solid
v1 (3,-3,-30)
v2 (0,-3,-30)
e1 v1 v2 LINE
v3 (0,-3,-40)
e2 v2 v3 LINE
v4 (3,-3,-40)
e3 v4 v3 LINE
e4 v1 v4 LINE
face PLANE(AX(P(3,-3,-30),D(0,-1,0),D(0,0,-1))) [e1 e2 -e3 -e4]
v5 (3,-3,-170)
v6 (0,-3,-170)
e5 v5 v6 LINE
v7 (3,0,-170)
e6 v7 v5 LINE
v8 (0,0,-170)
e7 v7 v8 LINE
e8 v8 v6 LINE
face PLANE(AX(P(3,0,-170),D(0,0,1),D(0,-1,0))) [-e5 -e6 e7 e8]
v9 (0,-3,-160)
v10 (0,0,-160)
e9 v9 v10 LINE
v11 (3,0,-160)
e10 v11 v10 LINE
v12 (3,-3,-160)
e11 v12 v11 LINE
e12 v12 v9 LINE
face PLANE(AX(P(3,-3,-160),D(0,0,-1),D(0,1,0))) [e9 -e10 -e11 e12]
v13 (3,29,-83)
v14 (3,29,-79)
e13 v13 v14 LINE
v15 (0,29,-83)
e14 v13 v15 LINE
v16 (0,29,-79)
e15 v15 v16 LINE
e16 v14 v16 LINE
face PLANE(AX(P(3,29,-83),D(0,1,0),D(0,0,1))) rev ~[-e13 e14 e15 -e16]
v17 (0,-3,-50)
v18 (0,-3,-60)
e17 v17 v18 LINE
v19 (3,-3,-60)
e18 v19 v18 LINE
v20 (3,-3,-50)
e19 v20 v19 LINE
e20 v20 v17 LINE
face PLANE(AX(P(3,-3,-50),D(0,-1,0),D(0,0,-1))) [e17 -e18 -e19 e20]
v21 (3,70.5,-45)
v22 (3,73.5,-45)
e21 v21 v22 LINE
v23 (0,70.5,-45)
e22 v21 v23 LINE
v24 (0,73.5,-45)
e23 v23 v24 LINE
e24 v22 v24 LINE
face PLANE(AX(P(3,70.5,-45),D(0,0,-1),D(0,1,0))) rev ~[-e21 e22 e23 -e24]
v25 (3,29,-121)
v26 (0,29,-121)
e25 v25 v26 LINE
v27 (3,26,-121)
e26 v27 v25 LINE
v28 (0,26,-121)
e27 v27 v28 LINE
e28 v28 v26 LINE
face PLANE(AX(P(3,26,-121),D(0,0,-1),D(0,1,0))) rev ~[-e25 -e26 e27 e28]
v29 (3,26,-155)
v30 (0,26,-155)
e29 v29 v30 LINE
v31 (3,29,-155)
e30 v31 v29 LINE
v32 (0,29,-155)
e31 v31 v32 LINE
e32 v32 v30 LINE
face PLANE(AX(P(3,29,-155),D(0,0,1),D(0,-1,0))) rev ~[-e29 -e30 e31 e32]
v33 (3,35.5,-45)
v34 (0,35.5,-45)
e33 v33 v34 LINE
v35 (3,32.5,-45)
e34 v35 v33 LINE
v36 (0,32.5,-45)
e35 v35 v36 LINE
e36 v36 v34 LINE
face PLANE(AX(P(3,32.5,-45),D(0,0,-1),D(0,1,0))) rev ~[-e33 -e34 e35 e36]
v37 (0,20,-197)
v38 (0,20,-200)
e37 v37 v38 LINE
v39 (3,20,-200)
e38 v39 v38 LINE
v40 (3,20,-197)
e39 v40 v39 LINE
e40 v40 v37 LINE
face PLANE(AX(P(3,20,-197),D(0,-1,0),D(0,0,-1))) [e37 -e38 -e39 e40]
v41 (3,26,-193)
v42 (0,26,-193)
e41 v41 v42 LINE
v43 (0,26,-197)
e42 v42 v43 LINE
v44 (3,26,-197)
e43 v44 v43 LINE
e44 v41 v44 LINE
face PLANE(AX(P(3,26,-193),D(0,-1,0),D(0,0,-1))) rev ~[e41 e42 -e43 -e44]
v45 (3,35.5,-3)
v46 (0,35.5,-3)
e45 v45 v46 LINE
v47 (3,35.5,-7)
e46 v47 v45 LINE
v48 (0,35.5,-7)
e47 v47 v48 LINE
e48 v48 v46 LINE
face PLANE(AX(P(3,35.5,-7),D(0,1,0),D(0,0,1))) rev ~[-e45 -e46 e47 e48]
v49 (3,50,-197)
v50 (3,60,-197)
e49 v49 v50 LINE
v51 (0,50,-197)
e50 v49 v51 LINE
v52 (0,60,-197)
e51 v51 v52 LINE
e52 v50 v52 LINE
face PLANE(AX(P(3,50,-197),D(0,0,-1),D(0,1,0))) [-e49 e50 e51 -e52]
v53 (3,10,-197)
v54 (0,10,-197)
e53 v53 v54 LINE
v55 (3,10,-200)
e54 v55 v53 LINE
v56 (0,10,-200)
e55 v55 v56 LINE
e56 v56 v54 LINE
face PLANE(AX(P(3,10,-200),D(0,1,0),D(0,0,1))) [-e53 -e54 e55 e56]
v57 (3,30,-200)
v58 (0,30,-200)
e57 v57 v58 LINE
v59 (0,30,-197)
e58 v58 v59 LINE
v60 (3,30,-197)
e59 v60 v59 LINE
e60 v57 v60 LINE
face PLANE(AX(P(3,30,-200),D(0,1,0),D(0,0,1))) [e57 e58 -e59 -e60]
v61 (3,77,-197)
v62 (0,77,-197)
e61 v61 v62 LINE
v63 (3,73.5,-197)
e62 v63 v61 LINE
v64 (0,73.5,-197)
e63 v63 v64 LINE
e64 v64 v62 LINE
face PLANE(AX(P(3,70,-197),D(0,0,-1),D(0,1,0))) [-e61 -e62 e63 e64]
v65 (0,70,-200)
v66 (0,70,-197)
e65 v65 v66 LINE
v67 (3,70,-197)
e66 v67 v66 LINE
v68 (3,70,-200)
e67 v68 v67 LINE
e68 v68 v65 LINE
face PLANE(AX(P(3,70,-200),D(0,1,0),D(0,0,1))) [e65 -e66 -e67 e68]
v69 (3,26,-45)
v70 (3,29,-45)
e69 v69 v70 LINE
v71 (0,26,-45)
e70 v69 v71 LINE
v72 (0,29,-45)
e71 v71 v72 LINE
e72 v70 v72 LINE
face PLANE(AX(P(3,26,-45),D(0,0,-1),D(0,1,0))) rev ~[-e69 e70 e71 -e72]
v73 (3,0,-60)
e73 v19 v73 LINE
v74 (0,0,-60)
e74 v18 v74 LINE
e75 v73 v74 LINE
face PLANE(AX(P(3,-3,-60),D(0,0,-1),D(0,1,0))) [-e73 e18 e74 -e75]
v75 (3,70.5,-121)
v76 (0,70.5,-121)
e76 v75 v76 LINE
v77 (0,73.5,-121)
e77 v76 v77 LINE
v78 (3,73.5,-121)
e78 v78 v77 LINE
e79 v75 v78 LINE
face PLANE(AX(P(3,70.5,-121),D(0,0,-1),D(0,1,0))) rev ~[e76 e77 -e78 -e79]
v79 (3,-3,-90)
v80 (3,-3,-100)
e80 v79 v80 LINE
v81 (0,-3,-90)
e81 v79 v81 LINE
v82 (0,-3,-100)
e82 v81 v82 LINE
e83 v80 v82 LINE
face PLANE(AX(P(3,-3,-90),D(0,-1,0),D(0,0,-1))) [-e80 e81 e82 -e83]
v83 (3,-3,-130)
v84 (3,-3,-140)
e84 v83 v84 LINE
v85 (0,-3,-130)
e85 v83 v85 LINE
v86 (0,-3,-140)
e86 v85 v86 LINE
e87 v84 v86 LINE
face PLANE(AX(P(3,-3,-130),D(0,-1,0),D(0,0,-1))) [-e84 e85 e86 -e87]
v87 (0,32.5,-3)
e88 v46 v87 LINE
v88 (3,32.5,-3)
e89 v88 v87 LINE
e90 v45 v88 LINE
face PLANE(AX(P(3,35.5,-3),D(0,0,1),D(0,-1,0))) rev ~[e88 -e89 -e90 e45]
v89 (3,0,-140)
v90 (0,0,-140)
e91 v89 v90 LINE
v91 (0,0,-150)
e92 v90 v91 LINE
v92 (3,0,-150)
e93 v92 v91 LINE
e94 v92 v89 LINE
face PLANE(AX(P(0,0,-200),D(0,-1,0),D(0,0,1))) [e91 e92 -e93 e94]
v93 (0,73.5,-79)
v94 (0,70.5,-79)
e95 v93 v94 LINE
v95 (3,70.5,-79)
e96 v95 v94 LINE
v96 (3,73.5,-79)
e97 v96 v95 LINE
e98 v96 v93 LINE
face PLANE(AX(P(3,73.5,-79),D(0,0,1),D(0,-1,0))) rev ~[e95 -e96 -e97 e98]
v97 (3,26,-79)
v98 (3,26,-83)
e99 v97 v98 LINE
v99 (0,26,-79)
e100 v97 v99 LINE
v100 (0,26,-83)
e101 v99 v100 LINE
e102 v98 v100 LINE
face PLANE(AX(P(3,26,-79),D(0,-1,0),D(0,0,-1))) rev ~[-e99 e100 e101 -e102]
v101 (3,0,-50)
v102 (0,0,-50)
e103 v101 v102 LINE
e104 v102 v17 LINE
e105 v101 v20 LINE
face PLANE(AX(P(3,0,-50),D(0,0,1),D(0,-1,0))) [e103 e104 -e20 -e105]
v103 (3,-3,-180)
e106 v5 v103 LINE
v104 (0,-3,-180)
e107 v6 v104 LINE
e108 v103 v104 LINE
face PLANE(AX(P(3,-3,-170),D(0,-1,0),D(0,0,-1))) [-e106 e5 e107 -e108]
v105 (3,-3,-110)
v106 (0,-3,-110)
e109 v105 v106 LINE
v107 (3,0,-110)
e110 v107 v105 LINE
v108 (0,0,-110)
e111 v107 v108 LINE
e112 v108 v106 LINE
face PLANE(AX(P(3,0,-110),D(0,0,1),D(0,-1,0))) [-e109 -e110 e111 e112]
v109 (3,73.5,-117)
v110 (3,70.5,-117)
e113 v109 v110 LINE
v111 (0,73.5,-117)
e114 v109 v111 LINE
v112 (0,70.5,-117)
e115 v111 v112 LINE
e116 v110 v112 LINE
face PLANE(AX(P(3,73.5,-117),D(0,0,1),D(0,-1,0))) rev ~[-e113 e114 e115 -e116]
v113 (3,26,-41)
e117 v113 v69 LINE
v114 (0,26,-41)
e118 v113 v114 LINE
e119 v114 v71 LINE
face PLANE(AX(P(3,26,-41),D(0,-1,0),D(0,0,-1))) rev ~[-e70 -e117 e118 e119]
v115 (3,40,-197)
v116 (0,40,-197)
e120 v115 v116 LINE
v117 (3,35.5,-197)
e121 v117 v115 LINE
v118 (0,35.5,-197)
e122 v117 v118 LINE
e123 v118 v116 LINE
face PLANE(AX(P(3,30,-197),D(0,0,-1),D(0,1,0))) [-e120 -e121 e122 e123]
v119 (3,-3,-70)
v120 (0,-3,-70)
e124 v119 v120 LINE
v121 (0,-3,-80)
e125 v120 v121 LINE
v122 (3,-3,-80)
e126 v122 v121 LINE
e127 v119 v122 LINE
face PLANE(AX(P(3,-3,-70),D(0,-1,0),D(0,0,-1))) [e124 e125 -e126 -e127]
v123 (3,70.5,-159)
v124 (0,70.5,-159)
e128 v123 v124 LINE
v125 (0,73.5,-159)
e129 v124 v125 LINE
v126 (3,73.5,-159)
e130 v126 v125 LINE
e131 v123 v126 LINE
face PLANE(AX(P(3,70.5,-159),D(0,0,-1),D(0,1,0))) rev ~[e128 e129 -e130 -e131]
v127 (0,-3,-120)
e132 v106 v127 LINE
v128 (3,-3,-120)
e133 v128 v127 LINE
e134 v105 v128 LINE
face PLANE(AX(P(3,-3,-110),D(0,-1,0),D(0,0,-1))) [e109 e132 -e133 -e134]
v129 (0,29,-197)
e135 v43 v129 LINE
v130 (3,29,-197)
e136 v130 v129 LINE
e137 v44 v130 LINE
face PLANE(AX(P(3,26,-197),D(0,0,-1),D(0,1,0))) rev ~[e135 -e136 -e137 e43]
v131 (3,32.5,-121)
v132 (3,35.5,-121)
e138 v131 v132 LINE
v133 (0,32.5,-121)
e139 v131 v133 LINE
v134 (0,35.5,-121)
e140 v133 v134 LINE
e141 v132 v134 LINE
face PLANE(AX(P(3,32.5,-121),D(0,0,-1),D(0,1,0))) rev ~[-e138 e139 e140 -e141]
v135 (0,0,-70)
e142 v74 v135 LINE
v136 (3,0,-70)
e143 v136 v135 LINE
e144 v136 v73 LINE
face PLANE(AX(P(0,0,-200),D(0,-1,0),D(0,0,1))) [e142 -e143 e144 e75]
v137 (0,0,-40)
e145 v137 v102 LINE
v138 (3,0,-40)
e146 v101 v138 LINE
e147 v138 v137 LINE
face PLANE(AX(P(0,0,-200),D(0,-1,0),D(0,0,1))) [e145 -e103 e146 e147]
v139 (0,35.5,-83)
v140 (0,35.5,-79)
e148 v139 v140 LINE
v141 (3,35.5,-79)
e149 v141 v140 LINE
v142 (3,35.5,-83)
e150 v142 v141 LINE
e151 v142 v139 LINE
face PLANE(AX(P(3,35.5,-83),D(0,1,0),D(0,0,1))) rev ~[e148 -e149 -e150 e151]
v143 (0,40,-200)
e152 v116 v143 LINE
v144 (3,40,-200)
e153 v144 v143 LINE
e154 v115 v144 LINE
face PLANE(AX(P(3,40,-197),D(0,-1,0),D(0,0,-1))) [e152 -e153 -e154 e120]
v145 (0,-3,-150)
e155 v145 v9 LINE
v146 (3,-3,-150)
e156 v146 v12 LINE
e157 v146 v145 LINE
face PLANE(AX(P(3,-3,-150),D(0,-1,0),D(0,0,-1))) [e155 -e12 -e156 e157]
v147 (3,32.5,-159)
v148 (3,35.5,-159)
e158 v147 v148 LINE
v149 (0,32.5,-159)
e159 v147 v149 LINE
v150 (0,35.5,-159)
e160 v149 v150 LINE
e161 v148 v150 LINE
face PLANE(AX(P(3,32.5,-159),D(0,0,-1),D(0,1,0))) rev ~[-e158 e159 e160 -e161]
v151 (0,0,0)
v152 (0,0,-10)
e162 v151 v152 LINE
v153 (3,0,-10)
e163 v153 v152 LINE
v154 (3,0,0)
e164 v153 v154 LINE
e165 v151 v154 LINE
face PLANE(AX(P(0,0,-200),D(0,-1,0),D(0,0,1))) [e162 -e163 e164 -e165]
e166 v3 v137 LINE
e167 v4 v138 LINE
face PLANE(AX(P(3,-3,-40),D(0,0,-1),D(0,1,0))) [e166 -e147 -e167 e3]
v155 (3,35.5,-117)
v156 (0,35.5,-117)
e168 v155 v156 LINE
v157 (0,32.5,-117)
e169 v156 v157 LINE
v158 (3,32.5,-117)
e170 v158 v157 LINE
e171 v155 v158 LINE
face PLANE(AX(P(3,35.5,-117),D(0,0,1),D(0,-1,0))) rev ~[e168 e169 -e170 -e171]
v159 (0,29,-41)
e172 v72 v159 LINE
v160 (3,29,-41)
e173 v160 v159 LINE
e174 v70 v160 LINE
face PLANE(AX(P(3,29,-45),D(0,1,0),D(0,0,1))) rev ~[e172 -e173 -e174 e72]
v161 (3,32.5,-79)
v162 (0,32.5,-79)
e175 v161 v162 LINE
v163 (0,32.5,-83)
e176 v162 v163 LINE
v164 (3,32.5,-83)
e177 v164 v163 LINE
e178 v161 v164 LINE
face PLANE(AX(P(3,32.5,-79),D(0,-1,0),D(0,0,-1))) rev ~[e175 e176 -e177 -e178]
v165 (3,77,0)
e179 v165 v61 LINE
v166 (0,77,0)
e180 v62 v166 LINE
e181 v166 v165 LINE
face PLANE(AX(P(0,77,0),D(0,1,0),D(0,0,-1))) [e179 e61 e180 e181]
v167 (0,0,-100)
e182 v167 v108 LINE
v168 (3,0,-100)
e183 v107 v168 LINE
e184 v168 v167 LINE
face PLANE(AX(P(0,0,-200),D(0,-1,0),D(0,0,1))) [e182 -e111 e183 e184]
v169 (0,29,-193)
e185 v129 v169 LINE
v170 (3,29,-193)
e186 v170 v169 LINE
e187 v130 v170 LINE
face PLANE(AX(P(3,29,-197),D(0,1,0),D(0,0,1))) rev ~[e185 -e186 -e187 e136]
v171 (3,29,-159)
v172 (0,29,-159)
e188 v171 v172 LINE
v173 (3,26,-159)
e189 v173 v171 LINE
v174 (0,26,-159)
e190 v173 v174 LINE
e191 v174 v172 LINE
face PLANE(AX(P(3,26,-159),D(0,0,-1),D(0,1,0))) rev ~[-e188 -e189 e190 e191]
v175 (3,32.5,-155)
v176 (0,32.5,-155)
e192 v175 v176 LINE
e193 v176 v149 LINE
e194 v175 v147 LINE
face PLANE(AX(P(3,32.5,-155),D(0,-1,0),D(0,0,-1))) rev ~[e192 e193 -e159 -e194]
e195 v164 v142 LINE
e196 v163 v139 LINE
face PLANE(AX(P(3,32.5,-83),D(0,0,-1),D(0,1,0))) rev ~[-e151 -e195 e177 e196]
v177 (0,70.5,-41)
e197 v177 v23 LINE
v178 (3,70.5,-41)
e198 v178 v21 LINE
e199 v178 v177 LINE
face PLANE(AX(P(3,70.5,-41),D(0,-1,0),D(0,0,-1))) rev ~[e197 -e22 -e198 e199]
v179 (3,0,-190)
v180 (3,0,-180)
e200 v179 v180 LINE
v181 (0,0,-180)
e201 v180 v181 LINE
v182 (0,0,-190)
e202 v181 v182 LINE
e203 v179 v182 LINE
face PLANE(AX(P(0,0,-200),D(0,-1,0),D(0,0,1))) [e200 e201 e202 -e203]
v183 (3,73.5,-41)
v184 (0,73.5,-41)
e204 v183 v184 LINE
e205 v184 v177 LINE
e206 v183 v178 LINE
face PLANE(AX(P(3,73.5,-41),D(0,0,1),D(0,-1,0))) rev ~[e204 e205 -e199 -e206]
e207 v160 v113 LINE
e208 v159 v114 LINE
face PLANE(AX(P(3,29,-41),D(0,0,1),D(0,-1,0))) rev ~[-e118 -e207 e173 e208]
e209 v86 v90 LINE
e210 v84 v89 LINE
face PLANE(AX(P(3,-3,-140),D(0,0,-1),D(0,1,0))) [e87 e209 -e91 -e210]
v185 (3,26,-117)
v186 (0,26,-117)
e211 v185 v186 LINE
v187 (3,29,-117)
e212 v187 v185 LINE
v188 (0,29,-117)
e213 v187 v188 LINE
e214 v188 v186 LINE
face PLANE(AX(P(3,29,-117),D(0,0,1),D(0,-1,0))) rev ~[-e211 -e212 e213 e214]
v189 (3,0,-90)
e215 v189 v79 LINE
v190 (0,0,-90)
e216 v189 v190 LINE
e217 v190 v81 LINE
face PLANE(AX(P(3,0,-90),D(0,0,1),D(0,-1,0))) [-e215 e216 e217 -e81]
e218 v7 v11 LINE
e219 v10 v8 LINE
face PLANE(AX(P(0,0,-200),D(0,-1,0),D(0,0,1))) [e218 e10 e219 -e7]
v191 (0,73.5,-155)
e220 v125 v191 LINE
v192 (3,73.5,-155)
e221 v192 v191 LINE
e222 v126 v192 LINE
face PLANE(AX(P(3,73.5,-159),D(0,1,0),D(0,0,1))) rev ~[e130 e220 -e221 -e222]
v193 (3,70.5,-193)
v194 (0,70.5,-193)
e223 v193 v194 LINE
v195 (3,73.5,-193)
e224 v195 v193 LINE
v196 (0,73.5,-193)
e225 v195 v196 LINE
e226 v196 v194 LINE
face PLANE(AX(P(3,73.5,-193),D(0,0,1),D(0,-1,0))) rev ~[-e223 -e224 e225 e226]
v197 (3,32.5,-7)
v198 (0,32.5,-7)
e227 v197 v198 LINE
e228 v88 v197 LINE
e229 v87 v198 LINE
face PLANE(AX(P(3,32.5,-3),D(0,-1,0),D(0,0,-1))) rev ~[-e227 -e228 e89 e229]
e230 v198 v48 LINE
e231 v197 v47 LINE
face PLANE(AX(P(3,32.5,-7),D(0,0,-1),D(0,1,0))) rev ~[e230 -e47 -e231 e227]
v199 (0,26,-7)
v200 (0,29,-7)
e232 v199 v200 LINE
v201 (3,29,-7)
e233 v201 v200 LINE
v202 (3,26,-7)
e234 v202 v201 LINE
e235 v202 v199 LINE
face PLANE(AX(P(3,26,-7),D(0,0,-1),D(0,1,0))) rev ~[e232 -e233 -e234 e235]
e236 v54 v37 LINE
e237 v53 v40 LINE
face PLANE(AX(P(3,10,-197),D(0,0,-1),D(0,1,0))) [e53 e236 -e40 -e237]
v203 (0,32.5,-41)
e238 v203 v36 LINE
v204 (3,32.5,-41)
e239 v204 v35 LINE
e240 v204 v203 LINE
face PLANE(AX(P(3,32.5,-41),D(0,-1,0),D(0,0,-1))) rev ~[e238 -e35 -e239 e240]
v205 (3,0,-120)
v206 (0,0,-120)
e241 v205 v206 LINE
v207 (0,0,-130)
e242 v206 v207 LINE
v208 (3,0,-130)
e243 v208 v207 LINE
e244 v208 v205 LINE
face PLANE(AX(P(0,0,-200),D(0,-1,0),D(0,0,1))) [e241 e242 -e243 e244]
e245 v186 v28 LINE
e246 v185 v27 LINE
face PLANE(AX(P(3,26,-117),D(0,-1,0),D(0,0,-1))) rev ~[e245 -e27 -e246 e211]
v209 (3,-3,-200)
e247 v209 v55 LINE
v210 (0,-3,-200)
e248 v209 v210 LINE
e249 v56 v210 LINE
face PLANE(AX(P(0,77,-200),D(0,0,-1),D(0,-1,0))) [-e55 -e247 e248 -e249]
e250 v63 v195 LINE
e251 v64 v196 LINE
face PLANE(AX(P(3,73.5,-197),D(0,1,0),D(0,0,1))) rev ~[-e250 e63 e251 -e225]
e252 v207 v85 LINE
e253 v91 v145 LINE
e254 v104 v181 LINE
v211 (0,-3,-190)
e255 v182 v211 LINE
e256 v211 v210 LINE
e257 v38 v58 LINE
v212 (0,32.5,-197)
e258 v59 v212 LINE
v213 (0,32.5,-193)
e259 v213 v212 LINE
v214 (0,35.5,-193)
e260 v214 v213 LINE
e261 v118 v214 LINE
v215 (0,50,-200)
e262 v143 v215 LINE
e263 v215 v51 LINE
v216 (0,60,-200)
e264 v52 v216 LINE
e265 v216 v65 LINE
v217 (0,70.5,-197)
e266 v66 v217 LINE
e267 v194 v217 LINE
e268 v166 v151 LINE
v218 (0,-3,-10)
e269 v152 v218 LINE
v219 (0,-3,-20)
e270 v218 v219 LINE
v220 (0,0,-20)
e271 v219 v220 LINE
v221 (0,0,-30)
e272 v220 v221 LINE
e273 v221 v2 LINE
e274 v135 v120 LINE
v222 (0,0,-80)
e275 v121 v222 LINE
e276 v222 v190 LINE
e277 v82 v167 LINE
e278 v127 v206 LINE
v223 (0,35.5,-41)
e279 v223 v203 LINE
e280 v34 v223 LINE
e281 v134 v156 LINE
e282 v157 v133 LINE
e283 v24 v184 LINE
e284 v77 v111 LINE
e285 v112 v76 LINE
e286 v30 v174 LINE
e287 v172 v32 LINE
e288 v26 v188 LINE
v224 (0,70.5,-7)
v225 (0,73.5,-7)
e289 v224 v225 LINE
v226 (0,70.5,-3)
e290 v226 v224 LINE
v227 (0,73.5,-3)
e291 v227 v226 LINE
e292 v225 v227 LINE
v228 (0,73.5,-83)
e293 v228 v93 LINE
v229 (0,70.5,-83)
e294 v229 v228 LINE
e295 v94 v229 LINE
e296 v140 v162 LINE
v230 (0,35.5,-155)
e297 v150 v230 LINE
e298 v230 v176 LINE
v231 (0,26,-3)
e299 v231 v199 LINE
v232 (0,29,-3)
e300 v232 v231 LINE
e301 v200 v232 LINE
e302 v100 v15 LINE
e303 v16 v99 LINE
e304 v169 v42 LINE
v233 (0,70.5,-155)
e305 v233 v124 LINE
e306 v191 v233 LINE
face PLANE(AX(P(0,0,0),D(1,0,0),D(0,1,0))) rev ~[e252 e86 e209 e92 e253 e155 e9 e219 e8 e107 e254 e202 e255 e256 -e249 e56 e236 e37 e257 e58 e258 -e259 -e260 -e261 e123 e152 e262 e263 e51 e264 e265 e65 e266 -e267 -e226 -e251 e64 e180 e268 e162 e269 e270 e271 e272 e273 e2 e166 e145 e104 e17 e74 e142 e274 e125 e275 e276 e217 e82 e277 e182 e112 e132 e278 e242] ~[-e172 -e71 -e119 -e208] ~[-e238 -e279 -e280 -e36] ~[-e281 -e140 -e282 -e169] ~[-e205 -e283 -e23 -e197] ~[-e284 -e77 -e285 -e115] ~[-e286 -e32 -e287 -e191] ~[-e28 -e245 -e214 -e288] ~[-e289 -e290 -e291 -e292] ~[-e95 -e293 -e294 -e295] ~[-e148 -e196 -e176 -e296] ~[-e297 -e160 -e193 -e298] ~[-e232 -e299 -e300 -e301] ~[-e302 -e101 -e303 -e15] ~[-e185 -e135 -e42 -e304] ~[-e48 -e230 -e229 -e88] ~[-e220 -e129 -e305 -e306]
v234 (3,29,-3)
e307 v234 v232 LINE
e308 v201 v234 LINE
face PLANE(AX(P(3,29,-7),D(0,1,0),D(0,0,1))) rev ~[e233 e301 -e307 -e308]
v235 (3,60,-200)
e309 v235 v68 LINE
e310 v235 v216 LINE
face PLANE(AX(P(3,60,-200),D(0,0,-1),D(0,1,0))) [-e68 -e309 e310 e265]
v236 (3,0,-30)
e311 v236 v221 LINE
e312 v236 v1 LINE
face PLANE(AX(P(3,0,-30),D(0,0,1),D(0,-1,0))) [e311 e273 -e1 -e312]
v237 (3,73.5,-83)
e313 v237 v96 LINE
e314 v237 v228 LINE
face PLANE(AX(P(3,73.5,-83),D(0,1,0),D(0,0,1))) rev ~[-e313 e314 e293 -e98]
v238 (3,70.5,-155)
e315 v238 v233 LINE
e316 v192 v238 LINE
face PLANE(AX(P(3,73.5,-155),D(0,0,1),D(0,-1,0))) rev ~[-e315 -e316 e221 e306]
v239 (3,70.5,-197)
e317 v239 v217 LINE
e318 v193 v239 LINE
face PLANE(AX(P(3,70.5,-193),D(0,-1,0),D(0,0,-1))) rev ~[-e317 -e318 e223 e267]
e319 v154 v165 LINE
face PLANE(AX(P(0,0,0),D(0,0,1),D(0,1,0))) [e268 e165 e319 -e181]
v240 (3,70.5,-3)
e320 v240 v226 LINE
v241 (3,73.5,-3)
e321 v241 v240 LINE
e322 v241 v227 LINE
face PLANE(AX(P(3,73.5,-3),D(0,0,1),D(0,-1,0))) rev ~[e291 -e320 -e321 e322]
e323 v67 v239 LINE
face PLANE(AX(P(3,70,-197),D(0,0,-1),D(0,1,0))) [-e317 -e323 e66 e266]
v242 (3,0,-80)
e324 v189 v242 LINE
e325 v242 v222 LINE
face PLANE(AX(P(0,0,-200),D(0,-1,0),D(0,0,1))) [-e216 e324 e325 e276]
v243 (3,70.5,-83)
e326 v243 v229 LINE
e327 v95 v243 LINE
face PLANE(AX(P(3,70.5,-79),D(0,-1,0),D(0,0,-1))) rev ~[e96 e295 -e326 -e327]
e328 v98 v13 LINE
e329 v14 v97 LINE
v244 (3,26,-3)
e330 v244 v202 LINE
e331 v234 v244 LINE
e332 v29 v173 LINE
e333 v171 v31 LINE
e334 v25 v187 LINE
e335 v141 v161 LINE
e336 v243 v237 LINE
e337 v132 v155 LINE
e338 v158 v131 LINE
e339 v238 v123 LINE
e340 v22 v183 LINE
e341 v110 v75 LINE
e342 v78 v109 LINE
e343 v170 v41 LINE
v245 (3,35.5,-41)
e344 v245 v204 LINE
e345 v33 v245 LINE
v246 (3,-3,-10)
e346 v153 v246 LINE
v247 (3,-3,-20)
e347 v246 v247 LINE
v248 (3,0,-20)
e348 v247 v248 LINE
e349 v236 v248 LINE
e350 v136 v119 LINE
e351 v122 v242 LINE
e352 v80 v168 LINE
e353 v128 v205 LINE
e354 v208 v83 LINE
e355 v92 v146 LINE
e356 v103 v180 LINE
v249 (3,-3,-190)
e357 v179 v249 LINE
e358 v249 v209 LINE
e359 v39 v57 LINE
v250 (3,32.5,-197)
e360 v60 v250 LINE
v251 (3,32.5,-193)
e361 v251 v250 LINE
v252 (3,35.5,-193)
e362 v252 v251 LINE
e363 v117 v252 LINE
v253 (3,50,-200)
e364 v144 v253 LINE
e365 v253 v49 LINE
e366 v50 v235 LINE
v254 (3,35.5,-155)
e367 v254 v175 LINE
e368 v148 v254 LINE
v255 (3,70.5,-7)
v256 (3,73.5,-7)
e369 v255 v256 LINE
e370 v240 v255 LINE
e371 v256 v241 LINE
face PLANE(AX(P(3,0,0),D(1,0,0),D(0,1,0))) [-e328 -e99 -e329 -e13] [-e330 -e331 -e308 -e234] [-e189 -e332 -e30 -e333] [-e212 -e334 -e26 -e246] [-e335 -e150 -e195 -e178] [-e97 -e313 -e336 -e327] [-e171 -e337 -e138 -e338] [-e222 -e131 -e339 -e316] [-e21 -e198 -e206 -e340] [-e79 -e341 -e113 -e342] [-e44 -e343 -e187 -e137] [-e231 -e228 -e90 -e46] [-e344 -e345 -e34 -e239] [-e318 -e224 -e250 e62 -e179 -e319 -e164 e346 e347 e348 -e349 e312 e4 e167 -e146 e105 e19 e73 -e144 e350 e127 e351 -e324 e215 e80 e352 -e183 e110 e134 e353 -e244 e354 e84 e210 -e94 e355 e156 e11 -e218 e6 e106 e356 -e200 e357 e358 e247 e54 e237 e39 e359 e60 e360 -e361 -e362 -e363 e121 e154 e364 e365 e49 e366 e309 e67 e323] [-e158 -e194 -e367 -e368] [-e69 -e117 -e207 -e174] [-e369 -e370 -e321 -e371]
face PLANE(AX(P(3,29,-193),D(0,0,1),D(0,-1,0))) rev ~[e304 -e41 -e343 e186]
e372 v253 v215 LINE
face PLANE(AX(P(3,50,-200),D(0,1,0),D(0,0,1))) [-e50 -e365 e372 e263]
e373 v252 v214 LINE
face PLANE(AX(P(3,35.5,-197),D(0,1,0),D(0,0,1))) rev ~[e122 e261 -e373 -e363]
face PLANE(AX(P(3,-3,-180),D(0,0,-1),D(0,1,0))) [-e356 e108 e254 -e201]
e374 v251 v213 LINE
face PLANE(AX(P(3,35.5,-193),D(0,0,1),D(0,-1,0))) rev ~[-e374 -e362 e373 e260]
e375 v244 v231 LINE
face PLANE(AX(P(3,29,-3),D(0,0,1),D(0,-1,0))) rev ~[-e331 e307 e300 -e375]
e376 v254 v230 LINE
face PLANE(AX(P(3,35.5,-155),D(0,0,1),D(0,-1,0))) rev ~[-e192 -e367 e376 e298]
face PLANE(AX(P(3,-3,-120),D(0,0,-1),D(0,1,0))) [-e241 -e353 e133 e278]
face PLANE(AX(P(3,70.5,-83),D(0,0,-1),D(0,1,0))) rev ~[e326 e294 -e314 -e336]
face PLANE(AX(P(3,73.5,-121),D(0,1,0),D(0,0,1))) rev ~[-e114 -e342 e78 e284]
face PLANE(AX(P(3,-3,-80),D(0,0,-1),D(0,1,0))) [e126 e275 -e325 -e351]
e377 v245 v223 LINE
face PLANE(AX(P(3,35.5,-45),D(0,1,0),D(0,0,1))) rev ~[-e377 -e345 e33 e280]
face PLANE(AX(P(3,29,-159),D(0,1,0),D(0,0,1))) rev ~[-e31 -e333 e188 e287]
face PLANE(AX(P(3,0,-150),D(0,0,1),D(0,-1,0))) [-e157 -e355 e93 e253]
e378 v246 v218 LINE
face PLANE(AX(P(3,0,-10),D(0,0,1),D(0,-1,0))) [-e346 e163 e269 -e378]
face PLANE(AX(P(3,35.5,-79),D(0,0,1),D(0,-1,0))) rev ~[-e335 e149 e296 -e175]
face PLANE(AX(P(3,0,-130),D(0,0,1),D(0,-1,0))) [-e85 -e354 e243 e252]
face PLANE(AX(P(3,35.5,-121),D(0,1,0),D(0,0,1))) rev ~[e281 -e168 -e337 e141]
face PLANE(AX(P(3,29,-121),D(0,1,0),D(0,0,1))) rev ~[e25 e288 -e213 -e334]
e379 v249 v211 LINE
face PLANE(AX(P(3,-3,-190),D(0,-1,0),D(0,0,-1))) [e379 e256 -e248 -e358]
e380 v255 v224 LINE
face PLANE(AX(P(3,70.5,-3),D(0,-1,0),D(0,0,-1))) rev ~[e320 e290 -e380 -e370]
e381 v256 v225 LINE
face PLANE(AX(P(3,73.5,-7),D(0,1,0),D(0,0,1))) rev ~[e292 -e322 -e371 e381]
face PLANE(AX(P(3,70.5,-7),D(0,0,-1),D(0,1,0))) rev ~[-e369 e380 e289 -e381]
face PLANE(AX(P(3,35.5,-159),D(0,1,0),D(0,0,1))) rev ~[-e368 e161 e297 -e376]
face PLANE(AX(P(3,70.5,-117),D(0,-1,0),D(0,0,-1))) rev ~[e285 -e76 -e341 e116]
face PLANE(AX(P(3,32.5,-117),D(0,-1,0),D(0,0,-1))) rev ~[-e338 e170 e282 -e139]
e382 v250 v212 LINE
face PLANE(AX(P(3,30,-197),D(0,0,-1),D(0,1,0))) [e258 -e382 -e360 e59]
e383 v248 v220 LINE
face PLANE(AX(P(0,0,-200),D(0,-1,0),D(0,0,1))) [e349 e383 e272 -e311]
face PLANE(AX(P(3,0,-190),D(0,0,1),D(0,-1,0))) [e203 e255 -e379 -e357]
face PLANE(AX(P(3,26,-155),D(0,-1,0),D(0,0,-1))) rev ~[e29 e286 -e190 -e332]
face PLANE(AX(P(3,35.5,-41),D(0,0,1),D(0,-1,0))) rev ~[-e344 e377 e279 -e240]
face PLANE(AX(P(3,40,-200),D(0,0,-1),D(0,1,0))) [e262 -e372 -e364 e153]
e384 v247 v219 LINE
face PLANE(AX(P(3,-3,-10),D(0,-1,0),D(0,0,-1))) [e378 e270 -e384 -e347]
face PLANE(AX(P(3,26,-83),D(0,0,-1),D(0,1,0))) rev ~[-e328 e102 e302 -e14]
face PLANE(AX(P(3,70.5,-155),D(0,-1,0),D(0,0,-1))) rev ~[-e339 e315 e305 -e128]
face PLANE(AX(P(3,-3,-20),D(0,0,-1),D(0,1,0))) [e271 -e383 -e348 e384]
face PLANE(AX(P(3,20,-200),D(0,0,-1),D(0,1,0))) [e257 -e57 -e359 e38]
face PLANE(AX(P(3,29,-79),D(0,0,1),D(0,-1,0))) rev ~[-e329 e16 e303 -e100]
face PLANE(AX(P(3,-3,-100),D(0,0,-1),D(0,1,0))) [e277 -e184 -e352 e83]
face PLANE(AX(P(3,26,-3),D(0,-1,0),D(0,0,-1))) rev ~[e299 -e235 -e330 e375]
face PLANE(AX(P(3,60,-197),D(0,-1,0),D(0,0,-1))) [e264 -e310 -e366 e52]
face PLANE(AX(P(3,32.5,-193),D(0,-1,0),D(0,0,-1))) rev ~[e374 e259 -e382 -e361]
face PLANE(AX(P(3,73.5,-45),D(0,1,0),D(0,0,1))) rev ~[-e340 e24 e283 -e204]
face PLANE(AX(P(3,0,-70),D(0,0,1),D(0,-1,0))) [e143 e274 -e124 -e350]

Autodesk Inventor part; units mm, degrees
ref_plane "YZ Plane" through (0, 0, 0) normal (1, 0, 0) x (0, 1, 0)
ref_plane "XZ Plane" through (0, 0, 0) normal (0, 1, 0) x (-1, 0, 0)
ref_plane "XY Plane" through (0, 0, 0) normal (0, 0, 1) x (1, 0, 0)
sketch "Sketch1" plane through (0, 0, 0) normal (1, 0, 0) x (0, 1, 0)
  line L0 (0, 0) -> (77, 0)
  line L1 (77, 0) -> (77, -200)
  line L2 (77, -200) -> (0, -200)
  line L3 (0, -200) -> (0, 0)
  dimension "d0" = 77
  dimension "d1" = 200
extrude "Extrusion1" add sketch "Sketch1" along normal blind 3
sketch "Sketch2" plane through (3, 0, 0) normal (1, 0, 0) x (0, 0, -1)
  line L0 (0, 0) -> (10, 0)
  line L1 (0, 0) -> (200, 0) projected
  line L2 (10, 0) -> (10, -3)
  line L3 (10, -3) -> (20, -3)
  line L4 (20, -3) -> (20, 0)
  line L5 (0, 0) -> (200, 0) projected
  line L6 (30, -3) -> (40, -3)
  line L7 (20, 0) -> (30, 0)
  line L8 (30, 0) -> (30, -3)
  line L9 (40, -3) -> (40, 0)
  line L10 (50, -3) -> (60, -3)
  line L11 (40, 0) -> (50, 0)
  line L12 (50, 0) -> (50, -3)
  line L13 (60, -3) -> (60, 0)
  line L14 (70, -3) -> (80, -3)
  line L15 (60, 0) -> (70, 0)
  line L16 (70, 0) -> (70, -3)
  line L17 (80, -3) -> (80, 0)
  line L18 (90, -3) -> (100, -3)
  line L19 (80, 0) -> (90, 0)
  line L20 (90, 0) -> (90, -3)
  line L21 (100, -3) -> (100, 0)
  line L22 (110, -3) -> (120, -3)
  line L23 (100, 0) -> (110, 0)
  line L24 (110, 0) -> (110, -3)
  line L25 (120, -3) -> (120, 0)
  line L26 (130, -3) -> (140, -3)
  line L27 (120, 0) -> (130, 0)
  line L28 (130, 0) -> (130, -3)
  line L29 (140, -3) -> (140, 0)
  line L30 (150, -3) -> (160, -3)
  line L31 (140, 0) -> (150, 0)
  line L32 (150, 0) -> (150, -3)
  line L33 (160, -3) -> (160, 0)
  line L34 (170, -3) -> (180, -3)
  line L35 (160, 0) -> (170, 0)
  line L36 (170, 0) -> (170, -3)
  line L37 (180, -3) -> (180, 0)
  line L38 (190, -3) -> (200, -3)
  line L39 (180, 0) -> (190, 0)
  line L40 (190, 0) -> (190, -3)
  line L41 (200, -3) -> (200, 0)
  line L42 (0, 0) -> (0, 10)
  line L43 (200, 77) -> (0, 77) projected
  line L44 (200, 0) -> (200, 77) projected
  line L45 (200, 0) -> (200, 10)
  line L46 (197, 10) -> (197, 20)
  line L47 (197, 20) -> (200, 20)
  line L48 (200, 30) -> (197, 30)
  line L49 (197, 30) -> (197, 40)
  line L50 (197, 40) -> (200, 40)
  line L51 (200, 40) -> (200, 50)
  line L52 (200, 50) -> (197, 50)
  line L53 (197, 50) -> (197, 60)
  line L54 (197, 60) -> (200, 60)
  line L55 (200, 60) -> (200, 70)
  line L56 (200, 70) -> (197, 70)
  line L57 (197, 70) -> (197, 77)
  line L58 (200, 10) -> (197, 10)
  line L59 (200, 20) -> (200, 30)
  line L60 (3, 77) -> (197, 77)
  line L61 (0, 77) -> (0, 0) projected
  line L62 (0, 0) -> (0, 77)
  line L63 (0, 77) -> (3, 77)
  point P0 (0, 70)
  dimension "d9" = 20
  dimension "d25" = 10
extrude "Extrusion2" cut sketch "Sketch2" against normal blind 3 contours L42 L61 L43 L57 L56 L44 L54 L53 L52 L50 L49 L48 L47 L46 L58 L1 L0 keep common part
sketch "Sketch3" plane through (3, 0, 0) normal (1, 0, 0) x (0, 0, -1)
  line L0 (0, 0) -> (10, 0)
  line L1 (0, 0) -> (200, 0)
  line L2 (10, 0) -> (10, -3)
  line L3 (10, -3) -> (20, -3)
  line L4 (20, -3) -> (20, 0)
  line L5 (30, -3) -> (40, -3)
  line L6 (20, 0) -> (30, 0)
  line L7 (30, 0) -> (30, -3)
  line L8 (40, -3) -> (40, 0)
  line L9 (50, -3) -> (60, -3)
  line L10 (40, 0) -> (50, 0)
  line L11 (50, 0) -> (50, -3)
  line L12 (60, -3) -> (60, 0)
  line L13 (70, -3) -> (80, -3)
  line L14 (60, 0) -> (70, 0)
  line L15 (70, 0) -> (70, -3)
  line L16 (80, -3) -> (80, 0)
  line L17 (90, -3) -> (100, -3)
  line L18 (80, 0) -> (90, 0)
  line L19 (90, 0) -> (90, -3)
  line L20 (100, -3) -> (100, 0)
  line L21 (110, -3) -> (120, -3)
  line L22 (100, 0) -> (110, 0)
  line L23 (110, 0) -> (110, -3)
  line L24 (120, -3) -> (120, 0)
  line L25 (130, -3) -> (140, -3)
  line L26 (120, 0) -> (130, 0)
  line L27 (130, 0) -> (130, -3)
  line L28 (140, -3) -> (140, 0)
  line L29 (150, -3) -> (160, -3)
  line L30 (140, 0) -> (150, 0)
  line L31 (150, 0) -> (150, -3)
  line L32 (160, -3) -> (160, 0)
  line L33 (170, -3) -> (180, -3)
  line L34 (160, 0) -> (170, 0)
  line L35 (170, 0) -> (170, -3)
  line L36 (180, -3) -> (180, 0)
  line L37 (190, -3) -> (200, -3)
  line L38 (180, 0) -> (190, 0)
  line L39 (190, 0) -> (190, -3)
  line L40 (10, 0) -> (10, -3)
  line L41 (20, -3) -> (20, 0)
  line L42 (0, 0) -> (30, 0)
  line L43 (40, 0) -> (200, 0)
  line L44 (0, 0) -> (200, 0) projected
  line L45 (200, -3) -> (200, 0)
  dimension "d28" = 10
  dimension "d29" = 3
  dimension "d30" = 10
  dimension "d31" = 20
extrude "Extrusion3" add sketch "Sketch3" against normal blind 3
sketch "Sketch4" plane through (3, 0, 0) normal (1, 0, 0) x (0, 0, -1)
  line L0 (197, 70) -> (197, 77) projected
  line L1 (197, 73.5) -> (193, 73.5)
  line L2 (193, 73.5) -> (193, 70.5)
  line L3 (193, 70.5) -> (197, 70.5)
  line L4 (197, 70.5) -> (197, 73.5)
  line L5 (159, 73.5) -> (155, 73.5)
  line L6 (155, 73.5) -> (155, 70.5)
  line L7 (155, 70.5) -> (159, 70.5)
  line L8 (159, 70.5) -> (159, 73.5)
  line L9 (197, 35.5) -> (193, 35.5)
  line L10 (193, 35.5) -> (193, 32.5)
  line L11 (193, 32.5) -> (197, 32.5)
  line L12 (197, 32.5) -> (197, 35.5)
  line L13 (159, 35.5) -> (155, 35.5)
  line L14 (155, 35.5) -> (155, 32.5)
  line L15 (155, 32.5) -> (159, 32.5)
  line L16 (159, 32.5) -> (159, 35.5)
  line L17 (121, 73.5) -> (117, 73.5)
  line L18 (117, 73.5) -> (117, 70.5)
  line L19 (117, 70.5) -> (121, 70.5)
  line L20 (121, 70.5) -> (121, 73.5)
  line L21 (121, 35.5) -> (117, 35.5)
  line L22 (117, 35.5) -> (117, 32.5)
  line L23 (117, 32.5) -> (121, 32.5)
  line L24 (121, 32.5) -> (121, 35.5)
  line L25 (83, 73.5) -> (79, 73.5)
  line L26 (79, 73.5) -> (79, 70.5)
  line L27 (79, 70.5) -> (83, 70.5)
  line L28 (83, 70.5) -> (83, 73.5)
  line L29 (83, 35.5) -> (79, 35.5)
  line L30 (79, 35.5) -> (79, 32.5)
  line L31 (79, 32.5) -> (83, 32.5)
  line L32 (83, 32.5) -> (83, 35.5)
  line L33 (45, 73.5) -> (41, 73.5)
  line L34 (41, 73.5) -> (41, 70.5)
  line L35 (41, 70.5) -> (45, 70.5)
  line L36 (45, 70.5) -> (45, 73.5)
  line L37 (45, 35.5) -> (41, 35.5)
  line L38 (41, 35.5) -> (41, 32.5)
  line L39 (41, 32.5) -> (45, 32.5)
  line L40 (45, 32.5) -> (45, 35.5)
  line L41 (159, 32.5) -> (159, 35.5)
  line L42 (155, 32.5) -> (159, 32.5)
  line L43 (159, 35.5) -> (155, 35.5)
  line L44 (155, 35.5) -> (155, 32.5)
  line L45 (121, 32.5) -> (121, 35.5)
  line L46 (117, 32.5) -> (121, 32.5)
  line L47 (121, 35.5) -> (117, 35.5)
  line L48 (117, 35.5) -> (117, 32.5)
  line L49 (83, 32.5) -> (83, 35.5)
  line L50 (79, 32.5) -> (83, 32.5)
  line L51 (83, 35.5) -> (79, 35.5)
  line L52 (79, 35.5) -> (79, 32.5)
  line L53 (45, 32.5) -> (45, 35.5)
  line L54 (41, 32.5) -> (45, 32.5)
  line L55 (45, 35.5) -> (41, 35.5)
  line L56 (41, 35.5) -> (41, 32.5)
  line L57 (197, 26) -> (197, 29)
  line L58 (193, 26) -> (197, 26)
  line L59 (197, 29) -> (193, 29)
  line L60 (193, 29) -> (193, 26)
  line L61 (159, 26) -> (159, 29)
  line L62 (155, 26) -> (159, 26)
  line L63 (159, 29) -> (155, 29)
  line L64 (155, 29) -> (155, 26)
  line L65 (121, 26) -> (121, 29)
  line L66 (117, 26) -> (121, 26)
  line L67 (121, 29) -> (117, 29)
  line L68 (117, 29) -> (117, 26)
  line L69 (83, 26) -> (83, 29)
  line L70 (79, 26) -> (83, 26)
  line L71 (83, 29) -> (79, 29)
  line L72 (79, 29) -> (79, 26)
  line L73 (45, 26) -> (45, 29)
  line L74 (41, 26) -> (45, 26)
  line L75 (45, 29) -> (41, 29)
  line L76 (41, 29) -> (41, 26)
  line L77 (7, 73.5) -> (3, 73.5)
  line L78 (3, 73.5) -> (3, 70.5)
  line L79 (3, 70.5) -> (7, 70.5)
  line L80 (7, 70.5) -> (7, 73.5)
  line L81 (7, 35.5) -> (3, 35.5)
  line L82 (3, 35.5) -> (3, 32.5)
  line L83 (3, 32.5) -> (7, 32.5)
  line L84 (7, 32.5) -> (7, 35.5)
  line L85 (7, 32.5) -> (7, 35.5)
  line L86 (3, 32.5) -> (7, 32.5)
  line L87 (7, 35.5) -> (3, 35.5)
  line L88 (3, 35.5) -> (3, 32.5)
  line L89 (7, 26) -> (7, 29)
  line L90 (3, 26) -> (7, 26)
  line L91 (7, 29) -> (3, 29)
  line L92 (3, 29) -> (3, 26)
  line L93 (197, 77) -> (0, 77) projected
  point P0 (0, 0)
  dimension "d34" = 4
  dimension "d35" = 3
  dimension "d38" = 38
  dimension "d41" = 38
  dimension "d48" = 38
  dimension "d51" = 6.5
  dimension "d54" = 3.5
  dimension "d55" = 3.5
extrude "Extrusion4" cut sketch "Sketch4" against normal through all
properties part number "DoosjeRechterkant" material "Wood (Cherry)"
